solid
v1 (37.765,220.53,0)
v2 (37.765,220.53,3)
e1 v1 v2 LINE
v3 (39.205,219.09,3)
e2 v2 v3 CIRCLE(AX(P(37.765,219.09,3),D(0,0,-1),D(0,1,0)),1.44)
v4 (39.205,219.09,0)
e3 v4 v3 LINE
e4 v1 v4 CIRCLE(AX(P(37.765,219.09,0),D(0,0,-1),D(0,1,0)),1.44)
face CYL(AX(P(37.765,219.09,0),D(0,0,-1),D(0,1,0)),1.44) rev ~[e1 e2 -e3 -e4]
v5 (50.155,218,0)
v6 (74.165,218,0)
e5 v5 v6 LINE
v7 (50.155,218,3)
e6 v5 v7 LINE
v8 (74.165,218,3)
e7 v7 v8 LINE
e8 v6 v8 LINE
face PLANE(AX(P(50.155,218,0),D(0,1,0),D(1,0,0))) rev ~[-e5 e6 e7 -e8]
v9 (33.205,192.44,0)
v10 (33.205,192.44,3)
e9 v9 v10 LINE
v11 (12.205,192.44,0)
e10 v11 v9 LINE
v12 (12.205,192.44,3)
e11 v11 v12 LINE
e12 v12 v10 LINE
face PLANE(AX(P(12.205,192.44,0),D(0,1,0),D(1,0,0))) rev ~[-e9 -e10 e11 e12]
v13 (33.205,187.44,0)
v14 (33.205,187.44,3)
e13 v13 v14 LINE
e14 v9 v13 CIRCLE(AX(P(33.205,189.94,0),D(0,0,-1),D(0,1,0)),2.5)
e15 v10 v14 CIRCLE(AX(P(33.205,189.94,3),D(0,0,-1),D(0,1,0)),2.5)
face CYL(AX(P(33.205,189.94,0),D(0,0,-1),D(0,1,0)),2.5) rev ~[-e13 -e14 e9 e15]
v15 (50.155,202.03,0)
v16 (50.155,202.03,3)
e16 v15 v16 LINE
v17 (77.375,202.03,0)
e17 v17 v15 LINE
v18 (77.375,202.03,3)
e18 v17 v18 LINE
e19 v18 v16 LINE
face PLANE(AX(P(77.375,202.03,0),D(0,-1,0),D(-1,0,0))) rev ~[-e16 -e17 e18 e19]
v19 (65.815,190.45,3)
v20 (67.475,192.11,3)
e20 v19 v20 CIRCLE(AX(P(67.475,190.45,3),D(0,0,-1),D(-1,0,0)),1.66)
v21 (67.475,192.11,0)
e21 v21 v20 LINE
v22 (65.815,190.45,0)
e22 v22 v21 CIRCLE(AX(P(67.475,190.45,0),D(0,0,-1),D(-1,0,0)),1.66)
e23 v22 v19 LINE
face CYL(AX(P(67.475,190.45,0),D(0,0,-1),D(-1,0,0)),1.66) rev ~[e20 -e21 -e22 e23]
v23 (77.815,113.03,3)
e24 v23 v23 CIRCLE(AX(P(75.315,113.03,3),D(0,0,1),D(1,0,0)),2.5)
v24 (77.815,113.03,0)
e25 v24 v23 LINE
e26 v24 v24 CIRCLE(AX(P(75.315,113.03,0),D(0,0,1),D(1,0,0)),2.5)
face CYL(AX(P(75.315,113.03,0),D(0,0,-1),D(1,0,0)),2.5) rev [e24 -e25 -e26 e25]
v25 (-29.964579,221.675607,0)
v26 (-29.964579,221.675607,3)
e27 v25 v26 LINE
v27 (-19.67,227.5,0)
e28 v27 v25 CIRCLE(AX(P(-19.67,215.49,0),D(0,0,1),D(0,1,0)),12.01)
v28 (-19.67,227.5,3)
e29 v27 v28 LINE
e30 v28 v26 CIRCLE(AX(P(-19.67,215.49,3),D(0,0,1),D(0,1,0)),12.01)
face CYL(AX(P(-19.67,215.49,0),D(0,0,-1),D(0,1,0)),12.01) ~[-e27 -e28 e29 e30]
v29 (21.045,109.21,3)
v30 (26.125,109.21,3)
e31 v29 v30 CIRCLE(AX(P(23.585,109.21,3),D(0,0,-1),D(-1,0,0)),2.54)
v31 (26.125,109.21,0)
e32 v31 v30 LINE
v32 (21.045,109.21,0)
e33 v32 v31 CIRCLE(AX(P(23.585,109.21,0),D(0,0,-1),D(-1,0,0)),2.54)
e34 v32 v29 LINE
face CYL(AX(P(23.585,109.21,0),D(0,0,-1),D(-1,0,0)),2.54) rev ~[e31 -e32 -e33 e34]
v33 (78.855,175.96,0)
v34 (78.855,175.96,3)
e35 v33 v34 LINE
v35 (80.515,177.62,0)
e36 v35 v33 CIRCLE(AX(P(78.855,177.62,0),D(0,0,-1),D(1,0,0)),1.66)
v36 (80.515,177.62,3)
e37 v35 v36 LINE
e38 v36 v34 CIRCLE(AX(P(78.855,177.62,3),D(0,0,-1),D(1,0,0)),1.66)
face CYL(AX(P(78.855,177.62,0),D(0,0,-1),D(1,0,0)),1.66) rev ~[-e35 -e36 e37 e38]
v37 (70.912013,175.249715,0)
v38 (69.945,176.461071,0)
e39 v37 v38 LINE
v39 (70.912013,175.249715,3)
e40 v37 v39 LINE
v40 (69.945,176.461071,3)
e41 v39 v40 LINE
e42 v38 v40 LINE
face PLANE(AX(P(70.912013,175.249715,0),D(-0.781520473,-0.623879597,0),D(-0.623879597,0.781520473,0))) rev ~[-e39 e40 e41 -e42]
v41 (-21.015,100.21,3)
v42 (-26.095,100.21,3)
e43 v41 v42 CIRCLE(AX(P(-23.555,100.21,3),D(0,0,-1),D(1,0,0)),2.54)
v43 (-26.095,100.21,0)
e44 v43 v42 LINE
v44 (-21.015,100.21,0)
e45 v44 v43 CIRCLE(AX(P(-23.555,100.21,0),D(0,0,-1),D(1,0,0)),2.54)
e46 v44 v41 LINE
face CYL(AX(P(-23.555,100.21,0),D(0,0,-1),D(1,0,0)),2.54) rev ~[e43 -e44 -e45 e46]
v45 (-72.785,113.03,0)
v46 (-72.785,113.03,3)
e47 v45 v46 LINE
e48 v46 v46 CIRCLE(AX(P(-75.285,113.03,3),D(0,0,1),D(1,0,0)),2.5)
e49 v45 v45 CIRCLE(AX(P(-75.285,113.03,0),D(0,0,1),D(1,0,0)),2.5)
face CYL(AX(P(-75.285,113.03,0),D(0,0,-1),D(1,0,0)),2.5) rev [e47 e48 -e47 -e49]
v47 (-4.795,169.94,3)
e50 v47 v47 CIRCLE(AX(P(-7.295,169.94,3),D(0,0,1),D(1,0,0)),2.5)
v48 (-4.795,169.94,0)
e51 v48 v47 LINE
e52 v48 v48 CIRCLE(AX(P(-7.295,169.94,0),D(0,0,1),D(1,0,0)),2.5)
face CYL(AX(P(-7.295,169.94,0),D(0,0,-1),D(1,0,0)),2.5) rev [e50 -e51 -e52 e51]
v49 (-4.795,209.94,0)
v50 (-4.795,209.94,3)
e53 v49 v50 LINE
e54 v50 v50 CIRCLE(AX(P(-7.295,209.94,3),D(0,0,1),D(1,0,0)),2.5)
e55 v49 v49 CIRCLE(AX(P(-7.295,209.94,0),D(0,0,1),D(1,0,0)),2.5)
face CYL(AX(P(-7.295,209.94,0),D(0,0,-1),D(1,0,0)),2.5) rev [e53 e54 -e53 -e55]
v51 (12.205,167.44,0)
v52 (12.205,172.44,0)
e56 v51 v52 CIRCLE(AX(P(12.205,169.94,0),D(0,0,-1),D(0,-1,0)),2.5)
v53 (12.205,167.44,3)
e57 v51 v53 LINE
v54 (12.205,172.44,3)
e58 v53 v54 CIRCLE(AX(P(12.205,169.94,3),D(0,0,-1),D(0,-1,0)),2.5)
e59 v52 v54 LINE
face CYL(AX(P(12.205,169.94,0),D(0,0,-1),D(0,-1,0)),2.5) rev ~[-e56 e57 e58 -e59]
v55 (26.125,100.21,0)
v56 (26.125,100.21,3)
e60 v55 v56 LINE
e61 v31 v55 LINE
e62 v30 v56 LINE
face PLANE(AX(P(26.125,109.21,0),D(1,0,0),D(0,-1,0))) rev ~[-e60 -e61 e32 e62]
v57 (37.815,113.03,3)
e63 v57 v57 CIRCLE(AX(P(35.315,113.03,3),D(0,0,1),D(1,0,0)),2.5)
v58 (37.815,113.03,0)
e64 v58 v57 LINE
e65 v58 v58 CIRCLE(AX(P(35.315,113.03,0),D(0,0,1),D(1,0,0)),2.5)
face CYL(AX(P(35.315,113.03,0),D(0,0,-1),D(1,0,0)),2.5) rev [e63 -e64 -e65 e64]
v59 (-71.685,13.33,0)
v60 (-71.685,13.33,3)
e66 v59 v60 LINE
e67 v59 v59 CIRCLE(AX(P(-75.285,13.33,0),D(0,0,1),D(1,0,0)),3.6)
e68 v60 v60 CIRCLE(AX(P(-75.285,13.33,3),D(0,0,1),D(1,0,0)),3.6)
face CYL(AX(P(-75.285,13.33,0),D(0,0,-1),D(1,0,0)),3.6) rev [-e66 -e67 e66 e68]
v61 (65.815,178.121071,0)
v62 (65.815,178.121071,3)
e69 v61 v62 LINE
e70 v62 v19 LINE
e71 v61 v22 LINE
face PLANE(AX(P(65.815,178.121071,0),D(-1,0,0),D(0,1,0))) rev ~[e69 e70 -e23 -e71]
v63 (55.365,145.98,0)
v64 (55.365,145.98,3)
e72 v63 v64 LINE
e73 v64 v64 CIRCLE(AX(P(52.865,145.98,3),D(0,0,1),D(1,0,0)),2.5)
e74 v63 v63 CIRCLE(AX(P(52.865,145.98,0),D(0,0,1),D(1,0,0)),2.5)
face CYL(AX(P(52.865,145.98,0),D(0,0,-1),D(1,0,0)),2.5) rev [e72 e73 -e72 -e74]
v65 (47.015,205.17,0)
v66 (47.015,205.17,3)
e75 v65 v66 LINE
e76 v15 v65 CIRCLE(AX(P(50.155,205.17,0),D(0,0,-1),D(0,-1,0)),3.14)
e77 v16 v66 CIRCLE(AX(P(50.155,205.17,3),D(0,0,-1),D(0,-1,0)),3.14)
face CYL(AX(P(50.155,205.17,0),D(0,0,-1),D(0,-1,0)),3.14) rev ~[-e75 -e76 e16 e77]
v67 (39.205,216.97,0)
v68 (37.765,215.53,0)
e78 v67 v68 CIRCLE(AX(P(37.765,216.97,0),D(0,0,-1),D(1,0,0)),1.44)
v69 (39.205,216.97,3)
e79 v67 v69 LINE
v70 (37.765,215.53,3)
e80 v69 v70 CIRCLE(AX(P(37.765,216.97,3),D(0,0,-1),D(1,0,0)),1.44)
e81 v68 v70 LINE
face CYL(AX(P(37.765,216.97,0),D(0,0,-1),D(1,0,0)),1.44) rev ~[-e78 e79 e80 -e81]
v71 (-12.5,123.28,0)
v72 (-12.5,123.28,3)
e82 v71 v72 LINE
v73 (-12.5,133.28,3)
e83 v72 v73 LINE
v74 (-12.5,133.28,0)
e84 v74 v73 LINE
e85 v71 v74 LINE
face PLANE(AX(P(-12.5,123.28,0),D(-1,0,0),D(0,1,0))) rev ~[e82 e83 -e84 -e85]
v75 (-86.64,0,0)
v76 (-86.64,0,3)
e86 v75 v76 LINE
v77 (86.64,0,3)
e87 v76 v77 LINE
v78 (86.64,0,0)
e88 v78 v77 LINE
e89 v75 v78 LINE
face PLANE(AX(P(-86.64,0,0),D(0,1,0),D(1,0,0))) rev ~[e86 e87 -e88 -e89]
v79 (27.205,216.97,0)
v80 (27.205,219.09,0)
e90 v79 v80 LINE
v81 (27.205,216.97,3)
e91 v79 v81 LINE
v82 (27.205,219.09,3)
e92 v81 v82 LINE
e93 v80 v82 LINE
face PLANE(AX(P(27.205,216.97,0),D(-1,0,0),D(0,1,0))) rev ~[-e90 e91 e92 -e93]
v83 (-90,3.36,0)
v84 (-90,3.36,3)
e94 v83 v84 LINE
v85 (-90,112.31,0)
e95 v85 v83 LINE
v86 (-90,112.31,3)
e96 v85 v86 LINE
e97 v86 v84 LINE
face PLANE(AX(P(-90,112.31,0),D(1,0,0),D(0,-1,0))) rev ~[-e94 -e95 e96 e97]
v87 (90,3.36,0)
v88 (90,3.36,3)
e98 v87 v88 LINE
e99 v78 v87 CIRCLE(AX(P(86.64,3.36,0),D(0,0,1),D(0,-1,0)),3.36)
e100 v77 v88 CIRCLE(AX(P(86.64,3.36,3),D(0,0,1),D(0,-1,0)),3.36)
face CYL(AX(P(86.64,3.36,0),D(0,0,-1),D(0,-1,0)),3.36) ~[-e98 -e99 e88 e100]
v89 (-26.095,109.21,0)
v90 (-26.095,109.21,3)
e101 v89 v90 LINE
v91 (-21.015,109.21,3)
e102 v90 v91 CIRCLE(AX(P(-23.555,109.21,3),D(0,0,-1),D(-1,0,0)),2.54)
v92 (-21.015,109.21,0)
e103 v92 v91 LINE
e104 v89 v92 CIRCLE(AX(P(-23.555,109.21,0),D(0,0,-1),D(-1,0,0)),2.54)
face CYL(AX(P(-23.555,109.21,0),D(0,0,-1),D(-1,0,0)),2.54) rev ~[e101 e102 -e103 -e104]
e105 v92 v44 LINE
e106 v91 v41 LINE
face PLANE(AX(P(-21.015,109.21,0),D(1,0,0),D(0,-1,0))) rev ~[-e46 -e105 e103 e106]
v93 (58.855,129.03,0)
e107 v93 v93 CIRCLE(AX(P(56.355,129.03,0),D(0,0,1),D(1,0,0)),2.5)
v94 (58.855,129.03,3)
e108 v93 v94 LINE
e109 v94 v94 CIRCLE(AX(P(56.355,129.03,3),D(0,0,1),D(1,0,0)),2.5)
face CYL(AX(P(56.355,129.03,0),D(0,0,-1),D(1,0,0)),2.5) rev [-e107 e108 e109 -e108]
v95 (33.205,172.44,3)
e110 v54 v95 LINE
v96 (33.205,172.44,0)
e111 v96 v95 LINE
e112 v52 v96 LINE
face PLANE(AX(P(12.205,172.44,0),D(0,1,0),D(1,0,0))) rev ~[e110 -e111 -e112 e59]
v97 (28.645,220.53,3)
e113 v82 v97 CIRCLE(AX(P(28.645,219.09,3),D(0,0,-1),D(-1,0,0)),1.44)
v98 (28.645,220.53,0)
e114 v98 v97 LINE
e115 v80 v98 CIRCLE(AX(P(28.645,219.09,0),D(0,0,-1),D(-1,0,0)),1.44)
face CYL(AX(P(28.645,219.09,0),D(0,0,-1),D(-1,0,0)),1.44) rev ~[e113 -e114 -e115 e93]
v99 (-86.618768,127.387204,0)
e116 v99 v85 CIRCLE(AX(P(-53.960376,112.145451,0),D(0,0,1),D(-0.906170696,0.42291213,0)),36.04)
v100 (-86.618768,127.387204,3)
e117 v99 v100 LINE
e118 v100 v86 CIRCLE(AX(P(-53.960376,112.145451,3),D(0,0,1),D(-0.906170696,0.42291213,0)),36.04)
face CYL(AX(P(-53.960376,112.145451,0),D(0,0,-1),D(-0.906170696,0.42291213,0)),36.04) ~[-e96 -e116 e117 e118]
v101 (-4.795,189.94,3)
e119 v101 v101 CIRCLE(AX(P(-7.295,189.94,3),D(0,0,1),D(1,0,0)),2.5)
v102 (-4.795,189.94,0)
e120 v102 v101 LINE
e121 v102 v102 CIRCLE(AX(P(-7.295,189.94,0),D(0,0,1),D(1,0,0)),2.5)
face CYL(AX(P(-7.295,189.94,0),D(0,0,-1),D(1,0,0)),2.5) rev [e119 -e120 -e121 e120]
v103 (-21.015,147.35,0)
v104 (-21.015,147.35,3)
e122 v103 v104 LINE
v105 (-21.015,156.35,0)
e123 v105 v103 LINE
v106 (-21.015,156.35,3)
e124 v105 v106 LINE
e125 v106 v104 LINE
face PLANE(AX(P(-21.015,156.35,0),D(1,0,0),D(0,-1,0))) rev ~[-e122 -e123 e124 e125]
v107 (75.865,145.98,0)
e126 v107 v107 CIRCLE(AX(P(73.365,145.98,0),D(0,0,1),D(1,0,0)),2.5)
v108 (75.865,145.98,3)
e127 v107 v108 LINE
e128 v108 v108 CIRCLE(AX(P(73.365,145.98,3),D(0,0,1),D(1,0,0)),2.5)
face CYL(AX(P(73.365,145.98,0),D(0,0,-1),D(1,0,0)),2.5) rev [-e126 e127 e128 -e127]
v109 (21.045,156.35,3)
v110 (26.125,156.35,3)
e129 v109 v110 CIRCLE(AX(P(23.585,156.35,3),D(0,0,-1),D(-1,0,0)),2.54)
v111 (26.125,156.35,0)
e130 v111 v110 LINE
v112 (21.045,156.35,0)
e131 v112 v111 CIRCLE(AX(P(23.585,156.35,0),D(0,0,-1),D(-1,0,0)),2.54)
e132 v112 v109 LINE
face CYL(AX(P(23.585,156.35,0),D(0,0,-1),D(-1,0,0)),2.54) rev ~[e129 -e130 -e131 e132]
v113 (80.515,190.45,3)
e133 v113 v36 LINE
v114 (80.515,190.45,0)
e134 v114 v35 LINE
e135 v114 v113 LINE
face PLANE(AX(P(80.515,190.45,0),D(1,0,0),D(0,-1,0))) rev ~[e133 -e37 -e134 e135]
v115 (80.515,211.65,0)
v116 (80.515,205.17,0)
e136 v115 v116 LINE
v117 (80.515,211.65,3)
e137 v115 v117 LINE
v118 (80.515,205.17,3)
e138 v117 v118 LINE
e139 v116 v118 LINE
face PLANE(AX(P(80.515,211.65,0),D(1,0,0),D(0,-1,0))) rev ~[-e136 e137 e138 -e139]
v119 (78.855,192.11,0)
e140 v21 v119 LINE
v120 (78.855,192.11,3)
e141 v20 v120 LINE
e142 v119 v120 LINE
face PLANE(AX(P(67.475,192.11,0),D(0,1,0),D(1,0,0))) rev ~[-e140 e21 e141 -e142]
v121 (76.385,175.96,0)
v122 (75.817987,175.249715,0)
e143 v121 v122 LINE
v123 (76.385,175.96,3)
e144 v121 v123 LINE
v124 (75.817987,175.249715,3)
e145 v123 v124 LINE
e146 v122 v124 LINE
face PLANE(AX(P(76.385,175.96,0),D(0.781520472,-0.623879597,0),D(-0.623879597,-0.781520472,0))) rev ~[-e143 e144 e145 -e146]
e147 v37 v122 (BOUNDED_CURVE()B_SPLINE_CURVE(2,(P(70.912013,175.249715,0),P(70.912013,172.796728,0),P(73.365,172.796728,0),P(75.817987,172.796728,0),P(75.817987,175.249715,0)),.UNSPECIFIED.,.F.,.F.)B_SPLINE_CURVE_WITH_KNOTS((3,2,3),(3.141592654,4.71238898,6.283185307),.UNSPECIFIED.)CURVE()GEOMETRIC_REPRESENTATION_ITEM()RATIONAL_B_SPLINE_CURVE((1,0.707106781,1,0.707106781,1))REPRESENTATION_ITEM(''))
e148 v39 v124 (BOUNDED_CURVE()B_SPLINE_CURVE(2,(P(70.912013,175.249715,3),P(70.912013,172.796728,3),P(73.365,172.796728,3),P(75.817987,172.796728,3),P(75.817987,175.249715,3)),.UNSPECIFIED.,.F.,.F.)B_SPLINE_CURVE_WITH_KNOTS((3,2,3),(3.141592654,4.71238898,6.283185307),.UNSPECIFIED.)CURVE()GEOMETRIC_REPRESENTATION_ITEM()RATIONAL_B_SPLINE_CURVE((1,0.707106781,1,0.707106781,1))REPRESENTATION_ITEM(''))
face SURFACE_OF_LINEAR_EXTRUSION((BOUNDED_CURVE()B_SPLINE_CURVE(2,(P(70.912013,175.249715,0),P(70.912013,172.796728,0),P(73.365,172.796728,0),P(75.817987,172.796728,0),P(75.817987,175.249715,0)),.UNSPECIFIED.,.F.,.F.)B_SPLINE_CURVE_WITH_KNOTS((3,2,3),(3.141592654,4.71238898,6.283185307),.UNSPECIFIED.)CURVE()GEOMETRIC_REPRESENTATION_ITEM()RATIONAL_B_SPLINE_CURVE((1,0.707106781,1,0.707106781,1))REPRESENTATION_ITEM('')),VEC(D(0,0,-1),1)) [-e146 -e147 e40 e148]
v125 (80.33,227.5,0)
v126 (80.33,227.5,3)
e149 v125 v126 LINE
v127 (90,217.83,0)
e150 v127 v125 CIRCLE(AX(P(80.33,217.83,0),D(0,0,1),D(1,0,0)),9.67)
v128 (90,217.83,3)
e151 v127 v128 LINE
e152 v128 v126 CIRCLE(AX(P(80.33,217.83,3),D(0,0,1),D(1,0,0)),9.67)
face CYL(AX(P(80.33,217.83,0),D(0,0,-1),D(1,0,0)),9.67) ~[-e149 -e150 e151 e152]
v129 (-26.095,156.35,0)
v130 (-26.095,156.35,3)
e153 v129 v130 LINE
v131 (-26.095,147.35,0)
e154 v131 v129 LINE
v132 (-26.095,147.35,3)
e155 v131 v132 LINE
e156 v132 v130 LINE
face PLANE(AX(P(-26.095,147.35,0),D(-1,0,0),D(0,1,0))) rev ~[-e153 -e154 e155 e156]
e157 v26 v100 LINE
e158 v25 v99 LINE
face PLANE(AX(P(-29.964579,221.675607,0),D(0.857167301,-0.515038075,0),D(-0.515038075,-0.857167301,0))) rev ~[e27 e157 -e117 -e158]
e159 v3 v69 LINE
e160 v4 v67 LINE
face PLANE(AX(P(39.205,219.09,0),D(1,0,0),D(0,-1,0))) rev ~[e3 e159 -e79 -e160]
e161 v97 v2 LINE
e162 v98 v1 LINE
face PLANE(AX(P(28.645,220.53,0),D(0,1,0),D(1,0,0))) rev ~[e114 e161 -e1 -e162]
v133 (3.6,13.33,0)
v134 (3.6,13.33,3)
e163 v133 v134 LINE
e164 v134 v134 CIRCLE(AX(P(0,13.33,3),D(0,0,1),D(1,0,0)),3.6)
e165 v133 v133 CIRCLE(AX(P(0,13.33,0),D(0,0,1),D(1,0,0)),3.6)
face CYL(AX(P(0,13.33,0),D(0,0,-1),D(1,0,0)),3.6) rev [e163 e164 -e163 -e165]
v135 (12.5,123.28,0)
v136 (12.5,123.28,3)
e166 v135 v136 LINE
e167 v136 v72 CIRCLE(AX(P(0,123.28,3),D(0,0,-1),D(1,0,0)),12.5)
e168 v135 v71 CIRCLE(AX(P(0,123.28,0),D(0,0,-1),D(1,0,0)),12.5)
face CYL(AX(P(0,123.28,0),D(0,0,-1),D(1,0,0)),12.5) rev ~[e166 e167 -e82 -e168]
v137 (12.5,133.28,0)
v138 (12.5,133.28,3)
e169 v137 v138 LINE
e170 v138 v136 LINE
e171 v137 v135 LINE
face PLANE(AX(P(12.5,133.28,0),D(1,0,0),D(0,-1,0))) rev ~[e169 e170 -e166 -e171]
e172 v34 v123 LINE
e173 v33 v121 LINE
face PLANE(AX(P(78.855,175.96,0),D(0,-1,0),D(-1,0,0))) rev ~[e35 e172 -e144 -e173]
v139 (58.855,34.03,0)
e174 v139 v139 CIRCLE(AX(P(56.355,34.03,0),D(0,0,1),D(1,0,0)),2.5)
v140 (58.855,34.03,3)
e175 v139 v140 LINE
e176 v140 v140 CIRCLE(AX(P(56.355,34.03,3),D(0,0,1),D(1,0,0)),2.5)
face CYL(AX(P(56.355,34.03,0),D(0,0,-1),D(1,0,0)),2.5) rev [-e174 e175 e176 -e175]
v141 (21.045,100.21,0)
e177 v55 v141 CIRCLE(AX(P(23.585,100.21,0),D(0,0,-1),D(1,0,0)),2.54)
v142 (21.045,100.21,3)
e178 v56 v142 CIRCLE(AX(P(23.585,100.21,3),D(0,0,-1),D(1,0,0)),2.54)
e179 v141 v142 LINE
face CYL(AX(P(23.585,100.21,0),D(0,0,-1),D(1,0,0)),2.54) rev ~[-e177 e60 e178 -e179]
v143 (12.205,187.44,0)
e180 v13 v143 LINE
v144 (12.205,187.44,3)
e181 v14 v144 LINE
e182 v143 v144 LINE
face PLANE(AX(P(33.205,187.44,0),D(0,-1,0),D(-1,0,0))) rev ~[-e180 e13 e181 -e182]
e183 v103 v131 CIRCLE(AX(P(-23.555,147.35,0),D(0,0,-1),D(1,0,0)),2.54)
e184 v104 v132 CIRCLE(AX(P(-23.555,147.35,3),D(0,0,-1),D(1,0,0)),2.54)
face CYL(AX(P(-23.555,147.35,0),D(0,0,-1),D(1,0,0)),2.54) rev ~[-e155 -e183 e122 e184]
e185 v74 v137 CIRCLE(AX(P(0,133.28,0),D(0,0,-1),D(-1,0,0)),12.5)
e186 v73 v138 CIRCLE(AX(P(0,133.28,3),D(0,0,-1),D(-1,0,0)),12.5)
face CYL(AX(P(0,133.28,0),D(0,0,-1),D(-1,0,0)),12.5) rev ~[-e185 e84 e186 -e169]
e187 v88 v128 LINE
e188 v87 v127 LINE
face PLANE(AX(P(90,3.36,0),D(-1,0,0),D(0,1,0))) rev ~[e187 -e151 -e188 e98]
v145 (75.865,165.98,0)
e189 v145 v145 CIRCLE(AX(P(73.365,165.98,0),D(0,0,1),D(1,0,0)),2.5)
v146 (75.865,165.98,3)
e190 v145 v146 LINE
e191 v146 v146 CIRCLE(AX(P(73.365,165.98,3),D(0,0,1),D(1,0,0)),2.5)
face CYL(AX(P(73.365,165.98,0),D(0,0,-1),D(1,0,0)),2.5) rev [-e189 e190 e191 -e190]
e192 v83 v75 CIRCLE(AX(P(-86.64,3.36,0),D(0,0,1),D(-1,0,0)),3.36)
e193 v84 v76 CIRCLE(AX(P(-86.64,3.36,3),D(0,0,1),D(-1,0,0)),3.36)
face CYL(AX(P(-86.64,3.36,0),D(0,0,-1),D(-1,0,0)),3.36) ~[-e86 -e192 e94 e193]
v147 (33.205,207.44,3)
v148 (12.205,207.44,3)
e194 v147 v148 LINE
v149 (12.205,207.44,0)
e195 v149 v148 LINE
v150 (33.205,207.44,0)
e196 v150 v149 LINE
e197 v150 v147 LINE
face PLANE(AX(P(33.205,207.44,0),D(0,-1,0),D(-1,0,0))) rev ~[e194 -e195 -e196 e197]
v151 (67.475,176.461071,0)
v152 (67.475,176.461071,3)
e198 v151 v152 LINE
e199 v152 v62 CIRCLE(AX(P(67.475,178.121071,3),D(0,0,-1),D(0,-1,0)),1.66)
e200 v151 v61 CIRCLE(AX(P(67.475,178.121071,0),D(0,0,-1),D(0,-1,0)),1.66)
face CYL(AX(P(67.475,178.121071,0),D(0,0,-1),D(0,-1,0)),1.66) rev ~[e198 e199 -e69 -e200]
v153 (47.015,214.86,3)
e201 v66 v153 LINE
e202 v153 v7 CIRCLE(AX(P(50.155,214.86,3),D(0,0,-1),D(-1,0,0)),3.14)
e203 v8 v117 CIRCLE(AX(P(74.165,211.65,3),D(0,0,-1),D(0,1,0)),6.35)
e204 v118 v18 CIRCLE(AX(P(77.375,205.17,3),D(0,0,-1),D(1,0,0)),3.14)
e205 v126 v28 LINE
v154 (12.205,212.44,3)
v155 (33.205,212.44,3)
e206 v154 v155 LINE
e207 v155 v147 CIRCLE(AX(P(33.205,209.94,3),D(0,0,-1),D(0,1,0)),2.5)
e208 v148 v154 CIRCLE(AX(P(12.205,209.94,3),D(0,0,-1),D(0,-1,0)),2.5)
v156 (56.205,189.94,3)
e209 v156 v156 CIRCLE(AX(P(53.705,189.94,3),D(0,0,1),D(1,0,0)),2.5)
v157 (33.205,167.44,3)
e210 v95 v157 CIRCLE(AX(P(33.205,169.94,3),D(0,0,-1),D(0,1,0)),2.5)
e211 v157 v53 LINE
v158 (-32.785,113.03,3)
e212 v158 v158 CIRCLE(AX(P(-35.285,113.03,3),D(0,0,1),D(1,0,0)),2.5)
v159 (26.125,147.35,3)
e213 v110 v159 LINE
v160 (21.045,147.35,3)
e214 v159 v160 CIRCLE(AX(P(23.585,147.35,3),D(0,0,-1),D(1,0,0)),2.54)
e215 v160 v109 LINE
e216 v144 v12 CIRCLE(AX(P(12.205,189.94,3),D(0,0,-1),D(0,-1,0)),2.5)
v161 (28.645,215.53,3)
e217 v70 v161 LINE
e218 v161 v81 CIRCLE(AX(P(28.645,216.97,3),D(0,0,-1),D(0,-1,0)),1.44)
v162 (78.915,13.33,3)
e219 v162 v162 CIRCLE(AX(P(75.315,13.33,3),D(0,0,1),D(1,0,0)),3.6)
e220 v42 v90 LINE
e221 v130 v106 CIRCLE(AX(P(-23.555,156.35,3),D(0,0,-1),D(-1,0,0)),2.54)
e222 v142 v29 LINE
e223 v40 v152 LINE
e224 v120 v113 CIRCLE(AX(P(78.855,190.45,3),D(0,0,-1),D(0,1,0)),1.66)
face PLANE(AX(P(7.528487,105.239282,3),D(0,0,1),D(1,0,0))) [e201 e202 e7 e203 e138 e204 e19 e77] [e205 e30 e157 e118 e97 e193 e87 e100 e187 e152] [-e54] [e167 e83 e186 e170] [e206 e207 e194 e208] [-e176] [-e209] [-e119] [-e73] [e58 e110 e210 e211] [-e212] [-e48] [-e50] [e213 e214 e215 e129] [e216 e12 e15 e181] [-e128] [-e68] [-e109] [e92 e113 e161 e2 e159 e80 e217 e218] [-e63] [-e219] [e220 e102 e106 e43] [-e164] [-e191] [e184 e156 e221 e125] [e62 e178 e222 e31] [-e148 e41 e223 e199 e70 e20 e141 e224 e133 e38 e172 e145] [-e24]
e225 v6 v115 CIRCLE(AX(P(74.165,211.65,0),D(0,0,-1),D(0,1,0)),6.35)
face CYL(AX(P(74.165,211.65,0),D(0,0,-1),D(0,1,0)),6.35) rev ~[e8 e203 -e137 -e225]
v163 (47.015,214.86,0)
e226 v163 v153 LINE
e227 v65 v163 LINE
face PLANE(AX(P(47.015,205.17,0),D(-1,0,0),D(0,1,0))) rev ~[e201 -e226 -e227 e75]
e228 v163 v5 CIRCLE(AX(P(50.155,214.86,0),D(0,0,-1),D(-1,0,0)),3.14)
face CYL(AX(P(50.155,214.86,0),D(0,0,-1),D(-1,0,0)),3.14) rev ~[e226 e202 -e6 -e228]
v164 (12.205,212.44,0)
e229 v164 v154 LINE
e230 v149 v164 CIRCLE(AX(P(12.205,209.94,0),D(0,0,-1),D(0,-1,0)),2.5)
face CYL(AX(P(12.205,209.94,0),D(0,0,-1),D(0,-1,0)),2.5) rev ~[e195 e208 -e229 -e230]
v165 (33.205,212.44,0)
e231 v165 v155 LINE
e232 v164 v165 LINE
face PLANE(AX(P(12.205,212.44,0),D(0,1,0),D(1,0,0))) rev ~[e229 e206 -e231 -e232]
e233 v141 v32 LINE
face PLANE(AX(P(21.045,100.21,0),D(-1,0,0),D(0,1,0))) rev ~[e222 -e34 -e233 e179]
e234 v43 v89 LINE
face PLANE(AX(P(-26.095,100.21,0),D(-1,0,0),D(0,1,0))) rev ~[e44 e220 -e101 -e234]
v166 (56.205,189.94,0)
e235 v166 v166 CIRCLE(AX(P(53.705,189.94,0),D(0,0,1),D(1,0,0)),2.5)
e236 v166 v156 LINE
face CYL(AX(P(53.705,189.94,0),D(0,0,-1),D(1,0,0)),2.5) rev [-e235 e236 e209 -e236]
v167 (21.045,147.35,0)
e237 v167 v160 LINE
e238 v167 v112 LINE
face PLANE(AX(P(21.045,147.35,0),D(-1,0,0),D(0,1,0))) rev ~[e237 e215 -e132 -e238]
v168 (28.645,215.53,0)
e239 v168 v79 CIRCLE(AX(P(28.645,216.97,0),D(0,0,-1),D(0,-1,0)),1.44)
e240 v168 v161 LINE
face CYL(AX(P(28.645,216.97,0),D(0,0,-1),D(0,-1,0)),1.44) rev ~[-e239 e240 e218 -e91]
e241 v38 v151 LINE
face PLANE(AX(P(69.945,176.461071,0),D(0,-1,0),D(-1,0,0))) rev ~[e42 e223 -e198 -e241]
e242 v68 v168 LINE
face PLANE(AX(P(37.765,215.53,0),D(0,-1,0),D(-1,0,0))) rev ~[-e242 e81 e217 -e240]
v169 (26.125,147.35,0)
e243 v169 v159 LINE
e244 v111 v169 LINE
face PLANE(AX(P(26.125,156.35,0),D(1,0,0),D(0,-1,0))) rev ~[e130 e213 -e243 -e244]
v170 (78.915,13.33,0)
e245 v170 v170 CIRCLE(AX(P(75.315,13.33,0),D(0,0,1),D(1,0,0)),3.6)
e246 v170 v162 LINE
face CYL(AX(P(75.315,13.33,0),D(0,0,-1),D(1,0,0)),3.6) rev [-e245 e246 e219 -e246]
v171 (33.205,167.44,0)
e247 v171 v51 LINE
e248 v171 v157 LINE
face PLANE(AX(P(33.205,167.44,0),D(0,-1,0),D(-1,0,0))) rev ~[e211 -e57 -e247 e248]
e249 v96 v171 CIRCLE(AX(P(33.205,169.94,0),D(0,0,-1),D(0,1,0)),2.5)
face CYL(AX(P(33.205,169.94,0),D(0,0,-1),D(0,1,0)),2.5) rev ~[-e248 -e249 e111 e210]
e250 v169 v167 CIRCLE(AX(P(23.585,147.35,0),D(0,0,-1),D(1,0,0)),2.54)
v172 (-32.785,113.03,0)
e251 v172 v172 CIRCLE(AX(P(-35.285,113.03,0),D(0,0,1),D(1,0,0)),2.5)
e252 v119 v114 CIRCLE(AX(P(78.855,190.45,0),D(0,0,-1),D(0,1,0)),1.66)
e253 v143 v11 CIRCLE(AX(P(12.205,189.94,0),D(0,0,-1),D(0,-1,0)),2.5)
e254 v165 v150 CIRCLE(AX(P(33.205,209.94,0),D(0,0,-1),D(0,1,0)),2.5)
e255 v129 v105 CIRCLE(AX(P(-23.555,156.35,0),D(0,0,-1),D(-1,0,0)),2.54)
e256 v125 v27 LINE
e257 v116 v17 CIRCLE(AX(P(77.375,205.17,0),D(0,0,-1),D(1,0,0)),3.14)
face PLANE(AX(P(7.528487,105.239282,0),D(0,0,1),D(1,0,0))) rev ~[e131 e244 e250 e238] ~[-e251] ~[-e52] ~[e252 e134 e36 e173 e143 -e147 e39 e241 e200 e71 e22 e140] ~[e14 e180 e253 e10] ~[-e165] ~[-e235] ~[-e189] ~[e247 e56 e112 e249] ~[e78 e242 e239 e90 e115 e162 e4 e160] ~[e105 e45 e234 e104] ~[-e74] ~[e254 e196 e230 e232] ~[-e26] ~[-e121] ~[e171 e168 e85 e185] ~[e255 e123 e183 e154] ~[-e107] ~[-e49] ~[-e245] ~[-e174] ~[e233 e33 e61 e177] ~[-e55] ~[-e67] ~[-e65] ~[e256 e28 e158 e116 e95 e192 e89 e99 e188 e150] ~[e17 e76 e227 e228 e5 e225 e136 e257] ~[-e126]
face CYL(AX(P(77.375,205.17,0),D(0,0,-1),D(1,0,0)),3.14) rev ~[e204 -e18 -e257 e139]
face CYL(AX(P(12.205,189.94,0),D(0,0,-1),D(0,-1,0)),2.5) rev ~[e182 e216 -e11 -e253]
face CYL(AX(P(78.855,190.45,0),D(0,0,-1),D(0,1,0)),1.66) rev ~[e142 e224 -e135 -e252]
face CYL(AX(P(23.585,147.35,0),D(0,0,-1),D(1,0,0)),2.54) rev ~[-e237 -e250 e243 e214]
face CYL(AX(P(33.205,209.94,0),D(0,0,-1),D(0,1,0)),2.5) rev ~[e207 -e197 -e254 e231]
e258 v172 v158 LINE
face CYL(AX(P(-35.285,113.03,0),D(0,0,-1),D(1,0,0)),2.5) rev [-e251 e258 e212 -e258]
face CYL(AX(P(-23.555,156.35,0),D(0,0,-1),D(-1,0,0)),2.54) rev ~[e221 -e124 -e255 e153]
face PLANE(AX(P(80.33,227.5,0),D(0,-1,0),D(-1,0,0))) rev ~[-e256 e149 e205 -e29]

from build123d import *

# Parameters (mm, degrees)
MODEL_R             = 3.6
MODEL_R_2           = 2.5
BOSS_EXTRUDE1_DEPTH = 3


with BuildPart() as part:
    # Model → Boss-Extrude1 (new body)
    with BuildSketch(Plane.XY):
        with BuildLine():
            Line((-86.64, 0), (86.64, 0))
            ThreePointArc((86.64, 0), (89.015878785, 0.984121215), (90, 3.36))
            Line((90, 3.36), (90, 217.83))
            ThreePointArc((90, 217.83), (87.167722574, 224.667722574), (80.33, 227.5))
            Line((80.33, 227.5), (-19.67, 227.5))
            ThreePointArc((-19.67, 227.5), (-25.584006957, 225.942971908), (-29.964579281, 221.67560728))
            Line((-29.964579281, 221.67560728), (-86.618767522, 127.387204203))
            ThreePointArc((-86.618767522, 127.387204203), (-89.126906327, 120.031940724), (-90, 112.31))
            Line((-90, 112.31), (-90, 3.36))
            ThreePointArc((-90, 3.36), (-89.015878785, 0.984121215), (-86.64, 0))
        make_face()
        with Locations((-75.285, 13.33)):
            Circle(MODEL_R, mode=Mode.SUBTRACT)
        with Locations((-7.295, 209.94)):
            Circle(MODEL_R_2, mode=Mode.SUBTRACT)
        with Locations((-7.295, 189.94)):
            Circle(MODEL_R_2, mode=Mode.SUBTRACT)
        with Locations((-7.295, 169.94)):
            Circle(MODEL_R_2, mode=Mode.SUBTRACT)
        with Locations((-35.285, 113.03)):
            Circle(MODEL_R_2, mode=Mode.SUBTRACT)
        with Locations((-75.285, 113.03)):
            Circle(MODEL_R_2, mode=Mode.SUBTRACT)
        with Locations((75.315, 13.33)):
            Circle(MODEL_R, mode=Mode.SUBTRACT)
        with Locations((0, 13.33)):
            Circle(MODEL_R, mode=Mode.SUBTRACT)
        with Locations((56.355, 34.03)):
            Circle(MODEL_R_2, mode=Mode.SUBTRACT)
        with Locations((53.705, 189.94)):
            Circle(MODEL_R_2, mode=Mode.SUBTRACT)
        with Locations((73.365, 165.98)):
            Circle(MODEL_R_2, mode=Mode.SUBTRACT)
        with Locations((73.365, 145.98)):
            Circle(MODEL_R_2, mode=Mode.SUBTRACT)
        with Locations((52.865, 145.98)):
            Circle(MODEL_R_2, mode=Mode.SUBTRACT)
        with Locations((56.355, 129.03)):
            Circle(MODEL_R_2, mode=Mode.SUBTRACT)
        with Locations((75.315, 113.03)):
            Circle(MODEL_R_2, mode=Mode.SUBTRACT)
        with Locations((35.315, 113.03)):
            Circle(MODEL_R_2, mode=Mode.SUBTRACT)
        with BuildLine():
            Line((-26.095, 100.21), (-26.095, 109.21))
            ThreePointArc((-26.095, 109.21), (-23.555, 111.75), (-21.015, 109.21))
            Line((-21.015, 109.21), (-21.015, 100.21))
            ThreePointArc((-21.015, 100.21), (-23.555, 97.67), (-26.095, 100.21))
        make_face(mode=Mode.SUBTRACT)
        with BuildLine():
            Line((-26.095, 147.35), (-26.095, 156.35))
            ThreePointArc((-26.095, 156.35), (-23.555, 158.89), (-21.015, 156.35))
            Line((-21.015, 156.35), (-21.015, 147.35))
            ThreePointArc((-21.015, 147.35), (-23.555, 144.81), (-26.095, 147.35))
        make_face(mode=Mode.SUBTRACT)
        with BuildLine():
            Line((21.045, 100.21), (21.045, 109.21))
            ThreePointArc((21.045, 109.21), (23.585, 111.75), (26.125, 109.21))
            Line((26.125, 109.21), (26.125, 100.21))
            ThreePointArc((26.125, 100.21), (23.585, 97.67), (21.045, 100.21))
        make_face(mode=Mode.SUBTRACT)
        with BuildLine():
            Line((21.045, 147.35), (21.045, 156.35))
            ThreePointArc((21.045, 156.35), (23.585, 158.89), (26.125, 156.35))
            Line((26.125, 156.35), (26.125, 147.35))
            ThreePointArc((26.125, 147.35), (23.585, 144.81), (21.045, 147.35))
        make_face(mode=Mode.SUBTRACT)
        with BuildLine():
            Line((27.205, 216.97), (27.205, 219.09))
            ThreePointArc((27.205, 219.09), (27.626766235, 220.108233765), (28.645, 220.53))
            Line((28.645, 220.53), (37.765, 220.53))
            ThreePointArc((37.765, 220.53), (38.783233765, 220.108233765), (39.205, 219.09))
            Line((39.205, 219.09), (39.205, 216.97))
            ThreePointArc((39.205, 216.97), (38.783233765, 215.951766235), (37.765, 215.53))
            Line((37.765, 215.53), (28.645, 215.53))
            ThreePointArc((28.645, 215.53), (27.626766235, 215.951766235), (27.205, 216.97))
        make_face(mode=Mode.SUBTRACT)
        with BuildLine():
            Line((76.385, 175.96), (75.817986625, 175.249714613))
            add(Edge.make_bspline(
                [(70.912013375, 175.249714613), (70.912013375, 172.796727988), (73.365, 172.796727988), (75.817986625, 172.796727988), (75.817986625, 175.249714613)],
                knots=[3.141592654, 3.141592654, 3.141592654, 4.71238898, 4.71238898, 6.283185307, 6.283185307, 6.283185307], degree=2, weights=[1, 0.707106781, 1, 0.707106781, 1]))
            Line((70.912013375, 175.249714613), (69.945, 176.461071346))
            Line((69.945, 176.461071346), (67.475, 176.461071346))
            ThreePointArc((67.475, 176.461071346), (66.301202743, 176.947274089), (65.815, 178.121071346))
            Line((65.815, 178.121071346), (65.815, 190.45))
            ThreePointArc((65.815, 190.45), (66.301202743, 191.623797257), (67.475, 192.11))
            Line((67.475, 192.11), (78.855, 192.11))
            ThreePointArc((78.855, 192.11), (80.028797257, 191.623797257), (80.515, 190.45))
            Line((80.515, 190.45), (80.515, 177.62))
            ThreePointArc((80.515, 177.62), (80.028797257, 176.446202743), (78.855, 175.96))
            Line((78.855, 175.96), (76.385, 175.96))
        make_face(mode=Mode.SUBTRACT)
        with BuildLine():
            Line((47.015, 205.17), (47.015, 214.86))
            ThreePointArc((47.015, 214.86), (47.934684707, 217.080315293), (50.155, 218))
            Line((50.155, 218), (74.165, 218))
            ThreePointArc((74.165, 218), (78.655128061, 216.140128061), (80.515, 211.65))
            Line((80.515, 211.65), (80.515, 205.17))
            ThreePointArc((80.515, 205.17), (79.595315293, 202.949684707), (77.375, 202.03))
            Line((77.375, 202.03), (50.155, 202.03))
            ThreePointArc((50.155, 202.03), (47.934684707, 202.949684707), (47.015, 205.17))
        make_face(mode=Mode.SUBTRACT)
        with BuildLine():
            Line((33.205, 167.44), (12.205, 167.44))
            ThreePointArc((12.205, 167.44), (9.705, 169.94), (12.205, 172.44))
            Line((12.205, 172.44), (33.205, 172.44))
            ThreePointArc((33.205, 172.44), (35.705, 169.94), (33.205, 167.44))
        make_face(mode=Mode.SUBTRACT)
        with BuildLine():
            Line((33.205, 187.44), (12.205, 187.44))
            ThreePointArc((12.205, 187.44), (9.705, 189.94), (12.205, 192.44))
            Line((12.205, 192.44), (33.205, 192.44))
            ThreePointArc((33.205, 192.44), (35.705, 189.94), (33.205, 187.44))
        make_face(mode=Mode.SUBTRACT)
        with BuildLine():
            Line((33.205, 207.44), (12.205, 207.44))
            ThreePointArc((12.205, 207.44), (9.705, 209.94), (12.205, 212.44))
            Line((12.205, 212.44), (33.205, 212.44))
            ThreePointArc((33.205, 212.44), (35.705, 209.94), (33.205, 207.44))
        make_face(mode=Mode.SUBTRACT)
        with BuildLine():
            Line((-12.5, 123.28), (-12.5, 133.28))
            ThreePointArc((-12.5, 133.28), (0, 145.78), (12.5, 133.28))
            Line((12.5, 133.28), (12.5, 123.28))
            ThreePointArc((12.5, 123.28), (0, 110.78), (-12.5, 123.28))
        make_face(mode=Mode.SUBTRACT)
    extrude(amount=BOSS_EXTRUDE1_DEPTH)


solid = part.part
